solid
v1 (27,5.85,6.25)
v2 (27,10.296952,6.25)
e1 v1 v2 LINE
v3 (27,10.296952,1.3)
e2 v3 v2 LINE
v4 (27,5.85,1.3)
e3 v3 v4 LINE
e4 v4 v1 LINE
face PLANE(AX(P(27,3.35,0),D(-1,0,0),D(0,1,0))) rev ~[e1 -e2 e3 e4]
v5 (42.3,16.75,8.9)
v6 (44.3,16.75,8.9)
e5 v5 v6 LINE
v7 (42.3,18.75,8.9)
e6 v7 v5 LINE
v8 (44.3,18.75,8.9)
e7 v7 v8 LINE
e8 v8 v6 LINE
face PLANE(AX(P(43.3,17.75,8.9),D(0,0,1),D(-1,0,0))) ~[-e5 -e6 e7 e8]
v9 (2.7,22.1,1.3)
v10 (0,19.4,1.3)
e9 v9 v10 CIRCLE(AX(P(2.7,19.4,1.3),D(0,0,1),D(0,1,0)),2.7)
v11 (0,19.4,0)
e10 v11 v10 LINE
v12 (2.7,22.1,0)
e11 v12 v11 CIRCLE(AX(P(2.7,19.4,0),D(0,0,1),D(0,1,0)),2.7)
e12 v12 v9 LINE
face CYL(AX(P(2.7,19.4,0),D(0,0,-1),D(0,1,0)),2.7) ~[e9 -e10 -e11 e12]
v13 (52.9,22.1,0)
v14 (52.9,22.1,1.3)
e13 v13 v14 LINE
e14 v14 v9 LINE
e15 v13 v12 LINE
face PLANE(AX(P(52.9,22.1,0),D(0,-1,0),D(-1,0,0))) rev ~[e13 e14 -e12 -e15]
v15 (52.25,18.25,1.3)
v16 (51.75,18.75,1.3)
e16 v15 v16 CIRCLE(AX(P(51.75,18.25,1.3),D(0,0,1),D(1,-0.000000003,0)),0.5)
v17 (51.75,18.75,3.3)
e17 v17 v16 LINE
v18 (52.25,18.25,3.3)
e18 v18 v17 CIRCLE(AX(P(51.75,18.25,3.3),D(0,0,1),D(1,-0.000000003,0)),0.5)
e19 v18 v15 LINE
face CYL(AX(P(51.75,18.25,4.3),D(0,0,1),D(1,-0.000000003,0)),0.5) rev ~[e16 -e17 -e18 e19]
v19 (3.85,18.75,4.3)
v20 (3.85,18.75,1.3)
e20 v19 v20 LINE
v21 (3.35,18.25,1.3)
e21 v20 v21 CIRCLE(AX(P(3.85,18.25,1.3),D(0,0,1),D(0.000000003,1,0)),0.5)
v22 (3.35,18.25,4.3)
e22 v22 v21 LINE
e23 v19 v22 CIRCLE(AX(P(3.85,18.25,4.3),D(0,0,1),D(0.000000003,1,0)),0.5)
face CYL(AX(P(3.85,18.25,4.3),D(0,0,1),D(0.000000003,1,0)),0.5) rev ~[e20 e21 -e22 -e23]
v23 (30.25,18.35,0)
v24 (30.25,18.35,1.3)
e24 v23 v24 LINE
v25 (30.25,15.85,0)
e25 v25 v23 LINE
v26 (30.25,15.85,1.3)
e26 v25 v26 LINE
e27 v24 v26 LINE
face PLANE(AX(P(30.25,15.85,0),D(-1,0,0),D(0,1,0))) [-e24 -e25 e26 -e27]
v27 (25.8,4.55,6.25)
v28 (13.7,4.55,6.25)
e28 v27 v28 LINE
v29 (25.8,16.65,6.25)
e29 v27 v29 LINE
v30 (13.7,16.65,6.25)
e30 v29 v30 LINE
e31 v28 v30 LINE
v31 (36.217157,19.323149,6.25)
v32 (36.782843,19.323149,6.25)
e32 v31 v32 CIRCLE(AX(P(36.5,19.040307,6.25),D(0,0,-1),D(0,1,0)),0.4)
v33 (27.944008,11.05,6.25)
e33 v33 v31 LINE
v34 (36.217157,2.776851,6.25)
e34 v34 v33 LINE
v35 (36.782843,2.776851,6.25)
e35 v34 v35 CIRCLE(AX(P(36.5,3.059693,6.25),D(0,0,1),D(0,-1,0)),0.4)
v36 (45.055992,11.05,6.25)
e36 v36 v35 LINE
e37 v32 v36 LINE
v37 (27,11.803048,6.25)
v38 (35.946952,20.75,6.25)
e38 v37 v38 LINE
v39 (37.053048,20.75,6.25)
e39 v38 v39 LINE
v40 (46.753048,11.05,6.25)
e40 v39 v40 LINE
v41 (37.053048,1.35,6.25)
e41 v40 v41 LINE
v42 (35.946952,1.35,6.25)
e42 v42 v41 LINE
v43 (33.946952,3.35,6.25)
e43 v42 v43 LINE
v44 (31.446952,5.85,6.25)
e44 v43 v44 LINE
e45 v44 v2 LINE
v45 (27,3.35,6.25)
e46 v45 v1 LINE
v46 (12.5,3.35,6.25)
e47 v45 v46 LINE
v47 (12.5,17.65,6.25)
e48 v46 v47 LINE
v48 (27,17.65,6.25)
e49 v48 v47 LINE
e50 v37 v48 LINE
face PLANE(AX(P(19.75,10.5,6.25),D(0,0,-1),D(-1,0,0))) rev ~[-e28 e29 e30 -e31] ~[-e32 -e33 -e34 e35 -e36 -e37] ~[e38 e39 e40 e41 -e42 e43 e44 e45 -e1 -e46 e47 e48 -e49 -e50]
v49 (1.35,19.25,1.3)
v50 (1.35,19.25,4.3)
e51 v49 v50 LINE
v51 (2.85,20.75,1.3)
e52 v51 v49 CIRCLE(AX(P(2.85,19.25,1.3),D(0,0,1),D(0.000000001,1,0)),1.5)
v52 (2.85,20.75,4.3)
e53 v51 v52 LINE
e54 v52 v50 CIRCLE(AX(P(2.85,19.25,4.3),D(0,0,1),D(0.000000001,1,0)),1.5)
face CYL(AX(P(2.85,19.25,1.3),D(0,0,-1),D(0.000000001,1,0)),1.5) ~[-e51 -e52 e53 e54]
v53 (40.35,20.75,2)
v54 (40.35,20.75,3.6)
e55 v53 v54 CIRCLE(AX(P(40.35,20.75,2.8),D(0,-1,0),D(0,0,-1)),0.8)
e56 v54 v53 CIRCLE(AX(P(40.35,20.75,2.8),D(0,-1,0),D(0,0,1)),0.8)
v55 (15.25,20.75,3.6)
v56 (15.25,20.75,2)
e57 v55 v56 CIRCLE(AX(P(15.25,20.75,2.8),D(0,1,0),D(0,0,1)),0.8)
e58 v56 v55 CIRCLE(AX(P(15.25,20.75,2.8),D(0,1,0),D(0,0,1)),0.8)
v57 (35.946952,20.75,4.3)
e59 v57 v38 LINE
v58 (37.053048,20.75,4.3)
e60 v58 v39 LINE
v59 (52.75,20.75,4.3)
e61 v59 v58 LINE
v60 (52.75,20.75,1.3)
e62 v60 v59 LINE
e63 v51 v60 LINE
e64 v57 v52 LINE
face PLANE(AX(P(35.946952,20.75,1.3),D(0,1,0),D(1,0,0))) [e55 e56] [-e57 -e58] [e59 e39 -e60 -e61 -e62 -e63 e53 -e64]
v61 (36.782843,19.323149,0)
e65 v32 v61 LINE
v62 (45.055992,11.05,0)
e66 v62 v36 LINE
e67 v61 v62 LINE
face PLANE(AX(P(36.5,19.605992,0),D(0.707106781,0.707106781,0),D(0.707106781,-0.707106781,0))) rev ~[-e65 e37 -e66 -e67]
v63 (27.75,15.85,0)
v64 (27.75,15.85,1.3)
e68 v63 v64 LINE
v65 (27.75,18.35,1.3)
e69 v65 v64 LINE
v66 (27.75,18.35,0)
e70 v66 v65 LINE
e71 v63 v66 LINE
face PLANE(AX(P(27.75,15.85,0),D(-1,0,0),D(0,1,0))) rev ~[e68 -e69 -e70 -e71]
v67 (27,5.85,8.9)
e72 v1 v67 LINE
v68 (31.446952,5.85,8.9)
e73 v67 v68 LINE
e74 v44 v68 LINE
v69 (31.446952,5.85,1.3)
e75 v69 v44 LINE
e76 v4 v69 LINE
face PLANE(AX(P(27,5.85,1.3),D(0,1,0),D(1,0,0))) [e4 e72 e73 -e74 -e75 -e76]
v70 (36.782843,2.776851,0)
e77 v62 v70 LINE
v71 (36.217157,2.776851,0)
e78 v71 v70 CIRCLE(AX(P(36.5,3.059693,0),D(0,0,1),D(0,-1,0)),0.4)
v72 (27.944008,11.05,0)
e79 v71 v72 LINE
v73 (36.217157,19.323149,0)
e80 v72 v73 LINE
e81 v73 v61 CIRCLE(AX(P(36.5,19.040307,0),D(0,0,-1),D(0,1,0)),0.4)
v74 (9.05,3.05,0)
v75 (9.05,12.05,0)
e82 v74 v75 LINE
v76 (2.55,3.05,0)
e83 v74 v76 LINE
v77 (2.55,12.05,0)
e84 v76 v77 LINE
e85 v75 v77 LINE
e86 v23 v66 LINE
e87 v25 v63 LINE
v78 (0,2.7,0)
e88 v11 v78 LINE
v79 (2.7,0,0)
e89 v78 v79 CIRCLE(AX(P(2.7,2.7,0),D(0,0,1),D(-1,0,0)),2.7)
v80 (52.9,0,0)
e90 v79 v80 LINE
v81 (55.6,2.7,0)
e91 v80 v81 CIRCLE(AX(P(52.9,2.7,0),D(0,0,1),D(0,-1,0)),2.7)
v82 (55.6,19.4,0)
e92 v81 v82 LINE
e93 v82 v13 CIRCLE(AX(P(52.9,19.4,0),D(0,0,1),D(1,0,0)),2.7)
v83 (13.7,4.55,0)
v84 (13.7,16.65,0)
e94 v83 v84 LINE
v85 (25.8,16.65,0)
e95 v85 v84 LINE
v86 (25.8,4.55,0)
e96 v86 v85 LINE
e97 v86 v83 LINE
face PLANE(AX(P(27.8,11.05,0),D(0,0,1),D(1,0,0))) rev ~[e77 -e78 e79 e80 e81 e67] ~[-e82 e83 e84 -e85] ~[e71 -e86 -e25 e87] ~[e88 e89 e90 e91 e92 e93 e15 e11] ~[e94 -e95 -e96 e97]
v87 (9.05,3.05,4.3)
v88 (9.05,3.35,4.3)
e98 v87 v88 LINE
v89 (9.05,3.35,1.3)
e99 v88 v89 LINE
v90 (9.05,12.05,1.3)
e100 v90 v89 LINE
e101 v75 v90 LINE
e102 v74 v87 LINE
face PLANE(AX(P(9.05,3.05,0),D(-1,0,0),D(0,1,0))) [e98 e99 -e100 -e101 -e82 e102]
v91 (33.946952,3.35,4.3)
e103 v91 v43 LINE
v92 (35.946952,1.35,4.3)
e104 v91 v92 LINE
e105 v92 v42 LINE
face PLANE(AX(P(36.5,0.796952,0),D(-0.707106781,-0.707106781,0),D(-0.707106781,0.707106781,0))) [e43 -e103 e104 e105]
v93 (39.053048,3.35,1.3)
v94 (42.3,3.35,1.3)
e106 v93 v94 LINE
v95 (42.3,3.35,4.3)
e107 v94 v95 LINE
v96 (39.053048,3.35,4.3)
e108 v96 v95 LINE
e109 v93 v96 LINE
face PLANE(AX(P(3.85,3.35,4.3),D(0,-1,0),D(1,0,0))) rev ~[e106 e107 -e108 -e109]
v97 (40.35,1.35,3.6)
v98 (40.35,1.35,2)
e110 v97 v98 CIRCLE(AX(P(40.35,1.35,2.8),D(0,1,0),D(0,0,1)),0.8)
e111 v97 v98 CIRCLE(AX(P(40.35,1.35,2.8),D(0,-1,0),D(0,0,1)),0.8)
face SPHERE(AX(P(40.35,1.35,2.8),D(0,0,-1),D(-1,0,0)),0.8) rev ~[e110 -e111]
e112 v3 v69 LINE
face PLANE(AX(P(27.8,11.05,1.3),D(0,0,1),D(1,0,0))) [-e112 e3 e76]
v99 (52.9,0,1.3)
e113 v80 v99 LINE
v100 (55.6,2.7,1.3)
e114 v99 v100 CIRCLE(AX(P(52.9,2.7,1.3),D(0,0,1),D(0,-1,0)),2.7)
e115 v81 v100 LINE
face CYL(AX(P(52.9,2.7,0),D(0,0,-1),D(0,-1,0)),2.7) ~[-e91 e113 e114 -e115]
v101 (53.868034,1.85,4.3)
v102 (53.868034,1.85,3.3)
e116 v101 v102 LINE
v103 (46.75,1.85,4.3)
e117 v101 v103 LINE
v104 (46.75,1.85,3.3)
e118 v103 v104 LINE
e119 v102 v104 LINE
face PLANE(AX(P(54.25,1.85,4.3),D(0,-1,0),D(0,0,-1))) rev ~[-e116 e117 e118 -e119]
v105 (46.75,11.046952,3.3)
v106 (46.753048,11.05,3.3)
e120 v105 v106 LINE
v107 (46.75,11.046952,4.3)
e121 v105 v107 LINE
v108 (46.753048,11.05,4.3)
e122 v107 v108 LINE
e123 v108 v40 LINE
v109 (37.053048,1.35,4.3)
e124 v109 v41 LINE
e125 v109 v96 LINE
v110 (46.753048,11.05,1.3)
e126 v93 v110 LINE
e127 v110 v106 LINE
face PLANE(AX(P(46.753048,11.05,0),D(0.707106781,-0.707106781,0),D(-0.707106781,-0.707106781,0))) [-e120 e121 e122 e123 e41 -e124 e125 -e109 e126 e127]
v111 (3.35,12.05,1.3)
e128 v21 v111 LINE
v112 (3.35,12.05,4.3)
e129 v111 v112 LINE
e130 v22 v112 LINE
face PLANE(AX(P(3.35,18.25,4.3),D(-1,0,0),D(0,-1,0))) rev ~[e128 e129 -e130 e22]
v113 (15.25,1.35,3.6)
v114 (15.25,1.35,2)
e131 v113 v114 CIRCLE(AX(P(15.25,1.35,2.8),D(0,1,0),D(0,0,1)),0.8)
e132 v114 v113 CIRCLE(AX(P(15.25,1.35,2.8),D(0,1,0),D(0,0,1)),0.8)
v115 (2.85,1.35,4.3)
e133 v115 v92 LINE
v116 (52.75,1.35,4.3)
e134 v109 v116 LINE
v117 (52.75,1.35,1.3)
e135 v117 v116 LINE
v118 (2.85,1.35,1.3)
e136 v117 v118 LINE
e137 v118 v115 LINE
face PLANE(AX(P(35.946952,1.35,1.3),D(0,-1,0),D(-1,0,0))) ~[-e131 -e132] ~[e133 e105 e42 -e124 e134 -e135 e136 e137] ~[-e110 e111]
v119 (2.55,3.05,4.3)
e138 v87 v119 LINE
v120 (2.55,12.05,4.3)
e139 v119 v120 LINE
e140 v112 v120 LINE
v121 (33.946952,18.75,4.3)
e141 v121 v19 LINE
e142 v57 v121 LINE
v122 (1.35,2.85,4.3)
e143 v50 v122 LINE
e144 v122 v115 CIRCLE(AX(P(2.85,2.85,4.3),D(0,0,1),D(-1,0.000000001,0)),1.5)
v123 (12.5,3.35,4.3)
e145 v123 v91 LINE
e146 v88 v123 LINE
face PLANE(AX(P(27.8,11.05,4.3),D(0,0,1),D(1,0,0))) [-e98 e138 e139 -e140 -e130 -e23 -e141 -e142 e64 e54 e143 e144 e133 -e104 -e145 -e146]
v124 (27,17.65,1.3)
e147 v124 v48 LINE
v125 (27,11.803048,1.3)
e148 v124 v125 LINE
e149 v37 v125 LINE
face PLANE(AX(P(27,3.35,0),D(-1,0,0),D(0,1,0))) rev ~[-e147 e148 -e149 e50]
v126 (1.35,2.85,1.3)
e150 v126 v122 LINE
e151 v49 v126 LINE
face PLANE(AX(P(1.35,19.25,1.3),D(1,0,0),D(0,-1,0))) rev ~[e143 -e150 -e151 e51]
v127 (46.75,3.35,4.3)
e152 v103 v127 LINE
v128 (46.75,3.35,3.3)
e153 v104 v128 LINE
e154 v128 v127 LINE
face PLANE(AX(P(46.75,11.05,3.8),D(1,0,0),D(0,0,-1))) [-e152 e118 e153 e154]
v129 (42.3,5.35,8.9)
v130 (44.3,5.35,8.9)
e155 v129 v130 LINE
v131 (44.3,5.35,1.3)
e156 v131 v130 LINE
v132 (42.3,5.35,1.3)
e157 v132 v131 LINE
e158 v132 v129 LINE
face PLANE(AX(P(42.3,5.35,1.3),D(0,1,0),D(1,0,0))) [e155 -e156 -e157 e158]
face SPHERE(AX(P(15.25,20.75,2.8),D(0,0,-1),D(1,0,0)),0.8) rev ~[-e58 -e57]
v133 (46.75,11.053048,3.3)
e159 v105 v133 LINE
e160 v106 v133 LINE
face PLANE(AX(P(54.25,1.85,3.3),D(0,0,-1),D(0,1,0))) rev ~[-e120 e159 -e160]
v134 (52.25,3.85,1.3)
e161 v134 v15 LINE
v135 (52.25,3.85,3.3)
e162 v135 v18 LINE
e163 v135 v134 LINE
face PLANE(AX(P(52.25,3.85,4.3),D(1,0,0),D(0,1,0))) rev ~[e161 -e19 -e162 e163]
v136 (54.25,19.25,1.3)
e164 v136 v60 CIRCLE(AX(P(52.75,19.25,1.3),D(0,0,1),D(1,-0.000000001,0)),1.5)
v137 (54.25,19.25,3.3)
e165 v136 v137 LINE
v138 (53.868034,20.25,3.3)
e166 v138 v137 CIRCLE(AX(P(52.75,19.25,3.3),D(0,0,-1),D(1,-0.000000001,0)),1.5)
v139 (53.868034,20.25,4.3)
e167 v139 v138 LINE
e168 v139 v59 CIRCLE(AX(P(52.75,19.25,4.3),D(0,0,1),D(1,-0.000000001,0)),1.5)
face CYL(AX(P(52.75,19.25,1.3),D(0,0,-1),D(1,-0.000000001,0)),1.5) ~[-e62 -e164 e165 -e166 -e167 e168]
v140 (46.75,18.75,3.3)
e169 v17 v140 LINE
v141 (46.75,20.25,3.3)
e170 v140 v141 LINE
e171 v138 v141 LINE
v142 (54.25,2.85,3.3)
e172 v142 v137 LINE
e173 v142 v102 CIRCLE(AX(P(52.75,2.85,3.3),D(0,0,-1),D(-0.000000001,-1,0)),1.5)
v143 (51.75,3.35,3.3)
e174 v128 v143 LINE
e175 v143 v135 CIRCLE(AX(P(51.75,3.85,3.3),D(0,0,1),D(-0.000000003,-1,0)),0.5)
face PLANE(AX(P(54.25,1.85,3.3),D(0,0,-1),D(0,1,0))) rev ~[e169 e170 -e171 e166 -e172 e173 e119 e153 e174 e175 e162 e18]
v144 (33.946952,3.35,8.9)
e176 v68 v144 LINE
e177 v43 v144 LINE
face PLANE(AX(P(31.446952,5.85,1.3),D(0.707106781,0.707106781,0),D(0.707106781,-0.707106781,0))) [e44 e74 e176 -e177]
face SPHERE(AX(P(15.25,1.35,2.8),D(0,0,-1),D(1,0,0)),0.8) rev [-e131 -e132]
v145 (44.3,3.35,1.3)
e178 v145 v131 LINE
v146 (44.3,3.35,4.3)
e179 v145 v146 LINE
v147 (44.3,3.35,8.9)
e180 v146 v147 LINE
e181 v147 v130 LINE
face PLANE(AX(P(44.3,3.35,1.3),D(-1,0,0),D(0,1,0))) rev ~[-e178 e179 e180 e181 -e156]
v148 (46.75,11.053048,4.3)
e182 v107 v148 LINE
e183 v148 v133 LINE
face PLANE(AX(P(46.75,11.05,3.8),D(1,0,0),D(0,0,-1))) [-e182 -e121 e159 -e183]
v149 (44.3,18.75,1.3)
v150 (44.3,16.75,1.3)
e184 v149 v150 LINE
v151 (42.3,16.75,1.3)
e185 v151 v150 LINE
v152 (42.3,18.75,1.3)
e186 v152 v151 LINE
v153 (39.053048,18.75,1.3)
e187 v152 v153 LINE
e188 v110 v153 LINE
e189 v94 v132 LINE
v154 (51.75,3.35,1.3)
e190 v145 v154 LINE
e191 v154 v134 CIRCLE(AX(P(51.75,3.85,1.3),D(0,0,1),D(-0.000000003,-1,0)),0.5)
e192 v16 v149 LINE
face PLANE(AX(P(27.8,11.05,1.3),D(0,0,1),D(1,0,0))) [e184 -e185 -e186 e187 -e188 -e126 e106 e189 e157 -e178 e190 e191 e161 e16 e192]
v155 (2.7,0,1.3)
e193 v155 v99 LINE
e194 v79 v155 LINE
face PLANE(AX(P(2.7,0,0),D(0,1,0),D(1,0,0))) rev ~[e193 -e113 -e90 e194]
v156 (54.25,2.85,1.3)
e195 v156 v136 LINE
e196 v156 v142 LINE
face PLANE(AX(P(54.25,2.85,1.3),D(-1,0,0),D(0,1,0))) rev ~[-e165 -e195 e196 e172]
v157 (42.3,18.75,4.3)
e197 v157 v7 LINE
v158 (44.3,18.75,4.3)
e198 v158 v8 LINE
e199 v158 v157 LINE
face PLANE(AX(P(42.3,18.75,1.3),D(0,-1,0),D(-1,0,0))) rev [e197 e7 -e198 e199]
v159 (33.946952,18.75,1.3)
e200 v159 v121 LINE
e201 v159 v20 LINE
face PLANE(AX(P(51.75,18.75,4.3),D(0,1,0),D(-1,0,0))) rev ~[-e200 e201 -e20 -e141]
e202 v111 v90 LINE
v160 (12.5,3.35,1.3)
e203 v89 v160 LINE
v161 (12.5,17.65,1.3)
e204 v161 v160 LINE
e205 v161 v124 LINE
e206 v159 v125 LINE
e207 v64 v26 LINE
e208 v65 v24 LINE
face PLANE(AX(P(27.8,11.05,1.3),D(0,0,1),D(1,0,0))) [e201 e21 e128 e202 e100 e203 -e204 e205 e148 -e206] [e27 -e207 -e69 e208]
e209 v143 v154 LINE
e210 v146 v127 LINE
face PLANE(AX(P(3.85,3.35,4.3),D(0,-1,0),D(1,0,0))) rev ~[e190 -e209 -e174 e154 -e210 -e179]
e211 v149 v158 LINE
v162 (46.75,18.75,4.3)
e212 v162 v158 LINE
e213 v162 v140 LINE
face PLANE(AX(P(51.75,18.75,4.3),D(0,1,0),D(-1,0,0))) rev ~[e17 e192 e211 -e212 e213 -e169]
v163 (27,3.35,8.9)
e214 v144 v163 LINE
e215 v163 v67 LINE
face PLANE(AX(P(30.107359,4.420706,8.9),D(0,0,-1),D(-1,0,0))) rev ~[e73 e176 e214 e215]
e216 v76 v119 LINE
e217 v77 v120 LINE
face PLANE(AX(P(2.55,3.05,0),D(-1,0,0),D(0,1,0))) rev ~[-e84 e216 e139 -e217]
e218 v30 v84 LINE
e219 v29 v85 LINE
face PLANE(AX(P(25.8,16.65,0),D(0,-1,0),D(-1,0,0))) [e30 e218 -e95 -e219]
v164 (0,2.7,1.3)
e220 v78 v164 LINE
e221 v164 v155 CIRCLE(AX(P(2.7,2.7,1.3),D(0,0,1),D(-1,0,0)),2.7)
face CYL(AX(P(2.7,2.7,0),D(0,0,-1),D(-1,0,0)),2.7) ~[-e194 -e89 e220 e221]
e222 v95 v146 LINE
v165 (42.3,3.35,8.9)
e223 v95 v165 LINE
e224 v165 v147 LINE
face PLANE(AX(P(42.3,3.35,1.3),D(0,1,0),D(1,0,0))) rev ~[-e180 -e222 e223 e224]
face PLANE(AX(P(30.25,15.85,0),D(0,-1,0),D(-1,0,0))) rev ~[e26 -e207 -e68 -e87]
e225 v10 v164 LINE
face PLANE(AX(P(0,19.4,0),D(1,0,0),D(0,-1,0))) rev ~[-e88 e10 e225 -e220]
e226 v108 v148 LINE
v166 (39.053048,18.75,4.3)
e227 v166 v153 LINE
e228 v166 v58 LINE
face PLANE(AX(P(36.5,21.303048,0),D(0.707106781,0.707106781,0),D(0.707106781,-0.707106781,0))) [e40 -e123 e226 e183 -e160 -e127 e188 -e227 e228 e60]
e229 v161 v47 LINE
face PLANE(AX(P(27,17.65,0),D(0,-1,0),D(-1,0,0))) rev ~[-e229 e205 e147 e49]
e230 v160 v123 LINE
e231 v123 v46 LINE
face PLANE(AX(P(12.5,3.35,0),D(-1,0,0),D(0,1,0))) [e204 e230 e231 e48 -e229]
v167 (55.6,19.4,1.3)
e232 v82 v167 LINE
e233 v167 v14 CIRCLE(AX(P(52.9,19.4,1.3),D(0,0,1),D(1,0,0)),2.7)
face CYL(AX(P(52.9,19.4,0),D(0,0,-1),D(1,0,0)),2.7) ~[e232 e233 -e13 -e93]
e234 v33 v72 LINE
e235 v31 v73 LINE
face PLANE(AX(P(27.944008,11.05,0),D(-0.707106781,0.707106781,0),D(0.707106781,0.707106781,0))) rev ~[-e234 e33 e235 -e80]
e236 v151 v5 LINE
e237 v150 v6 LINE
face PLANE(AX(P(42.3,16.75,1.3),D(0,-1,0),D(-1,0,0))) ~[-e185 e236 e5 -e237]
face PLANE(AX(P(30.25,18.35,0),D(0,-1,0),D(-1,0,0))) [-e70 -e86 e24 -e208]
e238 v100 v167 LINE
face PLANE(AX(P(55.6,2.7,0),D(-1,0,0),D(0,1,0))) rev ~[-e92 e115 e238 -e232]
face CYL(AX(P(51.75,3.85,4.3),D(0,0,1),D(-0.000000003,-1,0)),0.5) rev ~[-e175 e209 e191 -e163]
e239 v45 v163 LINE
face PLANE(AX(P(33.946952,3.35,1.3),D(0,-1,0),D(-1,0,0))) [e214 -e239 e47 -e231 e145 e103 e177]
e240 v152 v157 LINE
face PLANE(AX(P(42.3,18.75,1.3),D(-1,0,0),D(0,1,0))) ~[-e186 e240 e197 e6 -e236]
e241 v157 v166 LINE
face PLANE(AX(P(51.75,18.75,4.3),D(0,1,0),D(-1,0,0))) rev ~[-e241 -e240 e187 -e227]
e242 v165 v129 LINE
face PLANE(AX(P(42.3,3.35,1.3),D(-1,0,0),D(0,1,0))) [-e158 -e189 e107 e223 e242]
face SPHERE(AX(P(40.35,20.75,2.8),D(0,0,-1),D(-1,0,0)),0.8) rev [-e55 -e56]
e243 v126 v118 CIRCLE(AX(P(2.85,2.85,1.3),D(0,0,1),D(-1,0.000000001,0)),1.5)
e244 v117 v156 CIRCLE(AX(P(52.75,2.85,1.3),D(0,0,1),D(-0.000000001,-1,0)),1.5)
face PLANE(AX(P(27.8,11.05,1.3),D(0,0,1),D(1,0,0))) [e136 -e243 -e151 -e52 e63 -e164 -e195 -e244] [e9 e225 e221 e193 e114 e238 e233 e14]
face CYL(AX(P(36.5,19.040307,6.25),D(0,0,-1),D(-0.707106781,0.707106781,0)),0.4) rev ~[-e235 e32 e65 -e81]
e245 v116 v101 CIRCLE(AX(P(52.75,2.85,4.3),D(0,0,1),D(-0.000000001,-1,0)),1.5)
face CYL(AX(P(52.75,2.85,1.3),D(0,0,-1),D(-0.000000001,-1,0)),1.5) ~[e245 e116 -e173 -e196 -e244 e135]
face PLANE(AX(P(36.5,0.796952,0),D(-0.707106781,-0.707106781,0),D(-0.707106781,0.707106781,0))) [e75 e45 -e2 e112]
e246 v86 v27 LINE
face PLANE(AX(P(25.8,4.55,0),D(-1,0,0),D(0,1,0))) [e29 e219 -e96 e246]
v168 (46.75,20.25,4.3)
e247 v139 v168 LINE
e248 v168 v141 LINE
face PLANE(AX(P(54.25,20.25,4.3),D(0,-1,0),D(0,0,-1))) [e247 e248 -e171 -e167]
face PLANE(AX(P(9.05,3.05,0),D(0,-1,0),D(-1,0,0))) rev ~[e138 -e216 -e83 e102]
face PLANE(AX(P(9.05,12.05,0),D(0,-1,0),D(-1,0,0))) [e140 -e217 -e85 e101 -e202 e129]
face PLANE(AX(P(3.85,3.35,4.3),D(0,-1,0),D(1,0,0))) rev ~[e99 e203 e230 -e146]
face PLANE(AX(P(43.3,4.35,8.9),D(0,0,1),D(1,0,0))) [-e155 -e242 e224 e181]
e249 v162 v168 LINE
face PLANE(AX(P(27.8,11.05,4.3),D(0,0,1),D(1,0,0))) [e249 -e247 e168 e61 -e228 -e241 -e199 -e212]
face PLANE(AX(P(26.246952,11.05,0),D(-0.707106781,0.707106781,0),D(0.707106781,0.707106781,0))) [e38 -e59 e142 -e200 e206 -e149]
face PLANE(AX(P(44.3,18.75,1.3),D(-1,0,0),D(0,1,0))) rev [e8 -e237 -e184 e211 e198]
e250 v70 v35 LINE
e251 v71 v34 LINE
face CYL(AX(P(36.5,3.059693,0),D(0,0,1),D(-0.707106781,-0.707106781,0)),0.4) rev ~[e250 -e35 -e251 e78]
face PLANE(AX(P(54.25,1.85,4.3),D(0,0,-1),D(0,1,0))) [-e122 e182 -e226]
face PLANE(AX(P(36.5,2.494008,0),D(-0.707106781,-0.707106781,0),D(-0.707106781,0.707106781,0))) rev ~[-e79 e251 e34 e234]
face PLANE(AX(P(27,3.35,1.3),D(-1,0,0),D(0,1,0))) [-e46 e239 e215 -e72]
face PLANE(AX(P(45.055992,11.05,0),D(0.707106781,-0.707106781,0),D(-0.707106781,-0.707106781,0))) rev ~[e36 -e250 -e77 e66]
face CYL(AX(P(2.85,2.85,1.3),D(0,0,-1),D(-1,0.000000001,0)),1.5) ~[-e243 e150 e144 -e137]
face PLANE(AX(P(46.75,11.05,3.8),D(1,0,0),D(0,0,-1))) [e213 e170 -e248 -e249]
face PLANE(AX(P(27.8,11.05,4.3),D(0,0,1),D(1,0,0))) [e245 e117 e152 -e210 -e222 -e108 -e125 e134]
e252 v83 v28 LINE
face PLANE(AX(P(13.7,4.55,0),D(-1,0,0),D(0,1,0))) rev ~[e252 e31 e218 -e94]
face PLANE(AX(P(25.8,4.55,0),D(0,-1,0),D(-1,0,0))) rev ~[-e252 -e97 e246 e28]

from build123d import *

# Parameters (mm, degrees)
BOSS_EXTRUDE1_DEPTH = 1.3
BOSS_EXTRUDE3_DEPTH = 3
CUT_EXTRUDE1_DEPTH  = 3
SKETCH11_W          = 6.5
SKETCH11_H          = 9
CUT_EXTRUDE2_DEPTH  = 4.3
SKETCH12_W          = 12.1
SKETCH12_H          = 12.1
CUT_EXTRUDE4_DEPTH  = 1.3
SKETCH17_W          = 14.5
SKETCH17_H          = 14.3
SKETCH17_W_2        = 12.1
SKETCH17_H_2        = 12.1
BOSS_EXTRUDE4_DEPTH = 6.25
CUT_EXTRUDE5_DEPTH  = 4.3
BOSS_EXTRUDE5_DEPTH = 6.25
CUT_EXTRUDE6_START  = -3
CUT_EXTRUDE6_DEPTH  = 23
SKETCH21_W          = 2.5
SKETCH21_H          = 2.5
CUT_EXTRUDE7_DEPTH  = 10
BOSS_EXTRUDE7_DEPTH = 7.6
SKETCH25_W          = 2
SKETCH25_H          = 2
BOSS_EXTRUDE8_DEPTH = 7.6
SKETCH27_W          = 1
SKETCH27_H          = 18.4
CUT_EXTRUDE8_DEPTH  = 7.5
FILLET1_R           = 0.4


with BuildPart() as part:
    # Sketch1 → Boss-Extrude1 (new body)
    with BuildSketch(Plane.XY):
        with BuildLine():
            Line((2.7, 0), (52.9, 0))
            ThreePointArc((52.9, 0), (54.809188309, 0.790811691), (55.6, 2.7))
            Line((55.6, 2.7), (55.6, 19.4))
            ThreePointArc((55.6, 19.4), (54.809188309, 21.309188309), (52.9, 22.1))
            Line((52.9, 22.1), (2.7, 22.1))
            ThreePointArc((2.7, 22.1), (0.790811691, 21.309188309), (0, 19.4))
            Line((0, 19.4), (0, 2.7))
            ThreePointArc((0, 2.7), (0.790811691, 0.790811691), (2.7, 0))
        make_face()
    extrude(amount=BOSS_EXTRUDE1_DEPTH)

    # Sketch4 → Boss-Extrude3 (add)
    with BuildSketch(Plane.XY.offset(1.3)):
        with BuildLine():
            Line((54.25, 2.85), (54.25, 19.25))
            ThreePointArc((54.25, 19.25), (53.810660172, 20.310660172), (52.75, 20.75))
            Line((52.75, 20.75), (2.85, 20.75))
            ThreePointArc((2.85, 20.75), (1.789339828, 20.310660172), (1.35, 19.25))
            Line((1.35, 19.25), (1.35, 2.85))
            ThreePointArc((1.35, 2.85), (1.789339828, 1.789339828), (2.85, 1.35))
            Line((2.85, 1.35), (52.75, 1.35))
            ThreePointArc((52.75, 1.35), (53.810660172, 1.789339828), (54.25, 2.85))
        make_face()
    extrude(amount=BOSS_EXTRUDE3_DEPTH)

    # Sketch5 → Cut-Extrude1 (cut)
    with BuildSketch(Plane.XY.offset(4.3)):
        with BuildLine():
            Line((51.75, 18.75), (3.85, 18.75))
            ThreePointArc((3.85, 18.75), (3.496446609, 18.603553391), (3.35, 18.25))
            Line((3.35, 18.25), (3.35, 3.85))
            ThreePointArc((3.35, 3.85), (3.496446609, 3.496446609), (3.85, 3.35))
            Line((3.85, 3.35), (51.75, 3.35))
            ThreePointArc((51.75, 3.35), (52.103553391, 3.496446609), (52.25, 3.85))
            Line((52.25, 3.85), (52.25, 18.25))
            ThreePointArc((52.25, 18.25), (52.103553391, 18.603553391), (51.75, 18.75))
        make_face()
    extrude(amount=-CUT_EXTRUDE1_DEPTH, mode=Mode.SUBTRACT)

    # Sketch10 → Cut-Revolve1 (revolve, cut)
    with BuildSketch(Plane(origin=(0, 20.75, 0), x_dir=(1, 0, 0), z_dir=(0, 1, 0))):
        with BuildLine():
            Line((40.35, -2), (40.35, -3.6))
            ThreePointArc((40.35, -3.6), (39.55, -2.8), (40.35, -2))
        make_face()
    cut_revolve1 = revolve(axis=Axis((40.35, 20.75, 2), (0, 0, 1)), mode=Mode.SUBTRACT)

    # Mirror1: Cut-Revolve1 across plane
    add(cut_revolve1.mirror(Plane(origin=(0, 11.05, 0), x_dir=(0, 0, 1), z_dir=(0, -1, 0))), mode=Mode.SUBTRACT)

    # Sketch11 → Cut-Extrude2 (cut)
    with BuildSketch(Plane(origin=(0, 0, 0), x_dir=(-1, 0, 0), z_dir=(0, 0, -1))):
        with Locations((-5.8, 7.55)):
            Rectangle(SKETCH11_W, SKETCH11_H)
    extrude(amount=-CUT_EXTRUDE2_DEPTH, mode=Mode.SUBTRACT)

    # Sketch12 → Cut-Extrude4 (cut)
    with BuildSketch(Plane(origin=(0, 0, 0), x_dir=(-1, 0, 0), z_dir=(0, 0, -1))):
        with Locations((-19.75, 10.6)):
            Rectangle(SKETCH12_W, SKETCH12_H)
    extrude(amount=-CUT_EXTRUDE4_DEPTH, mode=Mode.SUBTRACT)

    # Sketch17 → Boss-Extrude4 (add)
    with BuildSketch(Plane(origin=(0, 0, 0), x_dir=(-1, 0, 0), z_dir=(0, 0, -1))):
        with Locations((-19.75, 10.5)):
            Rectangle(SKETCH17_W, SKETCH17_H)
        with Locations((-19.75, 10.6)):
            Rectangle(SKETCH17_W_2, SKETCH17_H_2, mode=Mode.SUBTRACT)
    extrude(amount=-BOSS_EXTRUDE4_DEPTH)

    # Sketch13 → Cut-Extrude5 (cut)
    with BuildSketch(Plane(origin=(0, 0, 0), x_dir=(-1, 0, 0), z_dir=(0, 0, -1))):
        Polygon((-45.055992052, 11.05), (-36.5, 2.494007948), (-27.944007948, 11.05), (-36.5, 19.605992052), align=None)
    extrude(amount=-CUT_EXTRUDE5_DEPTH, mode=Mode.SUBTRACT)

    # Sketch18 → Boss-Extrude5 (add)
    with BuildSketch(Plane(origin=(0, 0, 0), x_dir=(-1, 0, 0), z_dir=(0, 0, -1))):
        Polygon((-46.753048327, 11.05), (-36.5, 0.796951673), (-26.246951673, 11.05), (-36.5, 21.303048327), align=None)
        Polygon((-36.5, 19.605992052), (-45.055992052, 11.05), (-36.5, 2.494007948), (-27.944007948, 11.05), align=None, mode=Mode.SUBTRACT)
    extrude(amount=-BOSS_EXTRUDE5_DEPTH)

    # Sketch20 → Cut-Extrude6 (cut)
    with BuildSketch(Plane.XY.offset(4.3).offset(CUT_EXTRUDE6_START)):
        Polygon((35.946951673, 20.75), (37.053048327, 20.75), (36.5, 21.303048327), align=None)
    cut_extrude6 = extrude(amount=CUT_EXTRUDE6_DEPTH, mode=Mode.SUBTRACT)

    # Mirror2: Cut-Extrude6 across plane
    add(cut_extrude6.mirror(Plane(origin=(0, 11.05, 0), x_dir=(0, 0, 1), z_dir=(0, -1, 0))), mode=Mode.SUBTRACT)

    # Sketch21 → Cut-Extrude7 (cut)
    with BuildSketch(Plane(origin=(0, 0, 0), x_dir=(-1, 0, 0), z_dir=(0, 0, -1))):
        with Locations((-29, 17.1)):
            Rectangle(SKETCH21_W, SKETCH21_H)
    extrude(amount=-CUT_EXTRUDE7_DEPTH, mode=Mode.SUBTRACT)

    # Mirror3: Cut-Revolve1 across plane
    add(cut_revolve1.mirror(Plane.ZY.offset(-27.8)), mode=Mode.SUBTRACT)

    # Mirror3 copy 1 sketch → Mirror3 copy 1 (revolve, cut)
    with BuildSketch(Plane(origin=(55.6, 1.35, 0), x_dir=(-1, 0, 0), z_dir=(0, -1, 0))):
        with BuildLine():
            Line((40.35, -2), (40.35, -3.6))
            ThreePointArc((40.35, -3.6), (39.55, -2.8), (40.35, -2))
        make_face()
    revolve(axis=Axis((15.25, 1.35, 2), (0, 0, 1)), mode=Mode.SUBTRACT)

    # Sketch24 → Boss-Extrude7 (add)
    with BuildSketch(Plane.XY.offset(1.3)):
        Polygon((33.946951673, 3.35), (27, 3.35), (27, 5.85), (31.446951673, 5.85), align=None)
    extrude(amount=BOSS_EXTRUDE7_DEPTH)

    # Sketch25 → Boss-Extrude8 (add)
    with BuildSketch(Plane.XY.offset(1.3)):
        with Locations((43.3, 4.35)):
            Rectangle(SKETCH25_W, SKETCH25_H)
    boss_extrude8 = extrude(amount=BOSS_EXTRUDE8_DEPTH)

    # Mirror4: Boss-Extrude8 across plane
    add(boss_extrude8.mirror(Plane(origin=(0, 11.05, 0), x_dir=(0, 0, 1), z_dir=(0, -1, 0))))

    # Sketch27 → Cut-Extrude8 (cut)
    with BuildSketch(Plane(origin=(54.25, 0, 0), x_dir=(0, 0, -1), z_dir=(1, 0, 0))):
        with Locations((-3.8, 11.05)):
            Rectangle(SKETCH27_W, SKETCH27_H)
    extrude(amount=-CUT_EXTRUDE8_DEPTH, mode=Mode.SUBTRACT)

    # Fillet1
    fillet1_edges = [part.edges().sort_by_distance(p)[0] for p in [
        (36.5, 19.605992052, 3.125),
        (36.5, 2.494007948, 3.125),
    ]]
    fillet(fillet1_edges, radius=FILLET1_R)


solid = part.part
